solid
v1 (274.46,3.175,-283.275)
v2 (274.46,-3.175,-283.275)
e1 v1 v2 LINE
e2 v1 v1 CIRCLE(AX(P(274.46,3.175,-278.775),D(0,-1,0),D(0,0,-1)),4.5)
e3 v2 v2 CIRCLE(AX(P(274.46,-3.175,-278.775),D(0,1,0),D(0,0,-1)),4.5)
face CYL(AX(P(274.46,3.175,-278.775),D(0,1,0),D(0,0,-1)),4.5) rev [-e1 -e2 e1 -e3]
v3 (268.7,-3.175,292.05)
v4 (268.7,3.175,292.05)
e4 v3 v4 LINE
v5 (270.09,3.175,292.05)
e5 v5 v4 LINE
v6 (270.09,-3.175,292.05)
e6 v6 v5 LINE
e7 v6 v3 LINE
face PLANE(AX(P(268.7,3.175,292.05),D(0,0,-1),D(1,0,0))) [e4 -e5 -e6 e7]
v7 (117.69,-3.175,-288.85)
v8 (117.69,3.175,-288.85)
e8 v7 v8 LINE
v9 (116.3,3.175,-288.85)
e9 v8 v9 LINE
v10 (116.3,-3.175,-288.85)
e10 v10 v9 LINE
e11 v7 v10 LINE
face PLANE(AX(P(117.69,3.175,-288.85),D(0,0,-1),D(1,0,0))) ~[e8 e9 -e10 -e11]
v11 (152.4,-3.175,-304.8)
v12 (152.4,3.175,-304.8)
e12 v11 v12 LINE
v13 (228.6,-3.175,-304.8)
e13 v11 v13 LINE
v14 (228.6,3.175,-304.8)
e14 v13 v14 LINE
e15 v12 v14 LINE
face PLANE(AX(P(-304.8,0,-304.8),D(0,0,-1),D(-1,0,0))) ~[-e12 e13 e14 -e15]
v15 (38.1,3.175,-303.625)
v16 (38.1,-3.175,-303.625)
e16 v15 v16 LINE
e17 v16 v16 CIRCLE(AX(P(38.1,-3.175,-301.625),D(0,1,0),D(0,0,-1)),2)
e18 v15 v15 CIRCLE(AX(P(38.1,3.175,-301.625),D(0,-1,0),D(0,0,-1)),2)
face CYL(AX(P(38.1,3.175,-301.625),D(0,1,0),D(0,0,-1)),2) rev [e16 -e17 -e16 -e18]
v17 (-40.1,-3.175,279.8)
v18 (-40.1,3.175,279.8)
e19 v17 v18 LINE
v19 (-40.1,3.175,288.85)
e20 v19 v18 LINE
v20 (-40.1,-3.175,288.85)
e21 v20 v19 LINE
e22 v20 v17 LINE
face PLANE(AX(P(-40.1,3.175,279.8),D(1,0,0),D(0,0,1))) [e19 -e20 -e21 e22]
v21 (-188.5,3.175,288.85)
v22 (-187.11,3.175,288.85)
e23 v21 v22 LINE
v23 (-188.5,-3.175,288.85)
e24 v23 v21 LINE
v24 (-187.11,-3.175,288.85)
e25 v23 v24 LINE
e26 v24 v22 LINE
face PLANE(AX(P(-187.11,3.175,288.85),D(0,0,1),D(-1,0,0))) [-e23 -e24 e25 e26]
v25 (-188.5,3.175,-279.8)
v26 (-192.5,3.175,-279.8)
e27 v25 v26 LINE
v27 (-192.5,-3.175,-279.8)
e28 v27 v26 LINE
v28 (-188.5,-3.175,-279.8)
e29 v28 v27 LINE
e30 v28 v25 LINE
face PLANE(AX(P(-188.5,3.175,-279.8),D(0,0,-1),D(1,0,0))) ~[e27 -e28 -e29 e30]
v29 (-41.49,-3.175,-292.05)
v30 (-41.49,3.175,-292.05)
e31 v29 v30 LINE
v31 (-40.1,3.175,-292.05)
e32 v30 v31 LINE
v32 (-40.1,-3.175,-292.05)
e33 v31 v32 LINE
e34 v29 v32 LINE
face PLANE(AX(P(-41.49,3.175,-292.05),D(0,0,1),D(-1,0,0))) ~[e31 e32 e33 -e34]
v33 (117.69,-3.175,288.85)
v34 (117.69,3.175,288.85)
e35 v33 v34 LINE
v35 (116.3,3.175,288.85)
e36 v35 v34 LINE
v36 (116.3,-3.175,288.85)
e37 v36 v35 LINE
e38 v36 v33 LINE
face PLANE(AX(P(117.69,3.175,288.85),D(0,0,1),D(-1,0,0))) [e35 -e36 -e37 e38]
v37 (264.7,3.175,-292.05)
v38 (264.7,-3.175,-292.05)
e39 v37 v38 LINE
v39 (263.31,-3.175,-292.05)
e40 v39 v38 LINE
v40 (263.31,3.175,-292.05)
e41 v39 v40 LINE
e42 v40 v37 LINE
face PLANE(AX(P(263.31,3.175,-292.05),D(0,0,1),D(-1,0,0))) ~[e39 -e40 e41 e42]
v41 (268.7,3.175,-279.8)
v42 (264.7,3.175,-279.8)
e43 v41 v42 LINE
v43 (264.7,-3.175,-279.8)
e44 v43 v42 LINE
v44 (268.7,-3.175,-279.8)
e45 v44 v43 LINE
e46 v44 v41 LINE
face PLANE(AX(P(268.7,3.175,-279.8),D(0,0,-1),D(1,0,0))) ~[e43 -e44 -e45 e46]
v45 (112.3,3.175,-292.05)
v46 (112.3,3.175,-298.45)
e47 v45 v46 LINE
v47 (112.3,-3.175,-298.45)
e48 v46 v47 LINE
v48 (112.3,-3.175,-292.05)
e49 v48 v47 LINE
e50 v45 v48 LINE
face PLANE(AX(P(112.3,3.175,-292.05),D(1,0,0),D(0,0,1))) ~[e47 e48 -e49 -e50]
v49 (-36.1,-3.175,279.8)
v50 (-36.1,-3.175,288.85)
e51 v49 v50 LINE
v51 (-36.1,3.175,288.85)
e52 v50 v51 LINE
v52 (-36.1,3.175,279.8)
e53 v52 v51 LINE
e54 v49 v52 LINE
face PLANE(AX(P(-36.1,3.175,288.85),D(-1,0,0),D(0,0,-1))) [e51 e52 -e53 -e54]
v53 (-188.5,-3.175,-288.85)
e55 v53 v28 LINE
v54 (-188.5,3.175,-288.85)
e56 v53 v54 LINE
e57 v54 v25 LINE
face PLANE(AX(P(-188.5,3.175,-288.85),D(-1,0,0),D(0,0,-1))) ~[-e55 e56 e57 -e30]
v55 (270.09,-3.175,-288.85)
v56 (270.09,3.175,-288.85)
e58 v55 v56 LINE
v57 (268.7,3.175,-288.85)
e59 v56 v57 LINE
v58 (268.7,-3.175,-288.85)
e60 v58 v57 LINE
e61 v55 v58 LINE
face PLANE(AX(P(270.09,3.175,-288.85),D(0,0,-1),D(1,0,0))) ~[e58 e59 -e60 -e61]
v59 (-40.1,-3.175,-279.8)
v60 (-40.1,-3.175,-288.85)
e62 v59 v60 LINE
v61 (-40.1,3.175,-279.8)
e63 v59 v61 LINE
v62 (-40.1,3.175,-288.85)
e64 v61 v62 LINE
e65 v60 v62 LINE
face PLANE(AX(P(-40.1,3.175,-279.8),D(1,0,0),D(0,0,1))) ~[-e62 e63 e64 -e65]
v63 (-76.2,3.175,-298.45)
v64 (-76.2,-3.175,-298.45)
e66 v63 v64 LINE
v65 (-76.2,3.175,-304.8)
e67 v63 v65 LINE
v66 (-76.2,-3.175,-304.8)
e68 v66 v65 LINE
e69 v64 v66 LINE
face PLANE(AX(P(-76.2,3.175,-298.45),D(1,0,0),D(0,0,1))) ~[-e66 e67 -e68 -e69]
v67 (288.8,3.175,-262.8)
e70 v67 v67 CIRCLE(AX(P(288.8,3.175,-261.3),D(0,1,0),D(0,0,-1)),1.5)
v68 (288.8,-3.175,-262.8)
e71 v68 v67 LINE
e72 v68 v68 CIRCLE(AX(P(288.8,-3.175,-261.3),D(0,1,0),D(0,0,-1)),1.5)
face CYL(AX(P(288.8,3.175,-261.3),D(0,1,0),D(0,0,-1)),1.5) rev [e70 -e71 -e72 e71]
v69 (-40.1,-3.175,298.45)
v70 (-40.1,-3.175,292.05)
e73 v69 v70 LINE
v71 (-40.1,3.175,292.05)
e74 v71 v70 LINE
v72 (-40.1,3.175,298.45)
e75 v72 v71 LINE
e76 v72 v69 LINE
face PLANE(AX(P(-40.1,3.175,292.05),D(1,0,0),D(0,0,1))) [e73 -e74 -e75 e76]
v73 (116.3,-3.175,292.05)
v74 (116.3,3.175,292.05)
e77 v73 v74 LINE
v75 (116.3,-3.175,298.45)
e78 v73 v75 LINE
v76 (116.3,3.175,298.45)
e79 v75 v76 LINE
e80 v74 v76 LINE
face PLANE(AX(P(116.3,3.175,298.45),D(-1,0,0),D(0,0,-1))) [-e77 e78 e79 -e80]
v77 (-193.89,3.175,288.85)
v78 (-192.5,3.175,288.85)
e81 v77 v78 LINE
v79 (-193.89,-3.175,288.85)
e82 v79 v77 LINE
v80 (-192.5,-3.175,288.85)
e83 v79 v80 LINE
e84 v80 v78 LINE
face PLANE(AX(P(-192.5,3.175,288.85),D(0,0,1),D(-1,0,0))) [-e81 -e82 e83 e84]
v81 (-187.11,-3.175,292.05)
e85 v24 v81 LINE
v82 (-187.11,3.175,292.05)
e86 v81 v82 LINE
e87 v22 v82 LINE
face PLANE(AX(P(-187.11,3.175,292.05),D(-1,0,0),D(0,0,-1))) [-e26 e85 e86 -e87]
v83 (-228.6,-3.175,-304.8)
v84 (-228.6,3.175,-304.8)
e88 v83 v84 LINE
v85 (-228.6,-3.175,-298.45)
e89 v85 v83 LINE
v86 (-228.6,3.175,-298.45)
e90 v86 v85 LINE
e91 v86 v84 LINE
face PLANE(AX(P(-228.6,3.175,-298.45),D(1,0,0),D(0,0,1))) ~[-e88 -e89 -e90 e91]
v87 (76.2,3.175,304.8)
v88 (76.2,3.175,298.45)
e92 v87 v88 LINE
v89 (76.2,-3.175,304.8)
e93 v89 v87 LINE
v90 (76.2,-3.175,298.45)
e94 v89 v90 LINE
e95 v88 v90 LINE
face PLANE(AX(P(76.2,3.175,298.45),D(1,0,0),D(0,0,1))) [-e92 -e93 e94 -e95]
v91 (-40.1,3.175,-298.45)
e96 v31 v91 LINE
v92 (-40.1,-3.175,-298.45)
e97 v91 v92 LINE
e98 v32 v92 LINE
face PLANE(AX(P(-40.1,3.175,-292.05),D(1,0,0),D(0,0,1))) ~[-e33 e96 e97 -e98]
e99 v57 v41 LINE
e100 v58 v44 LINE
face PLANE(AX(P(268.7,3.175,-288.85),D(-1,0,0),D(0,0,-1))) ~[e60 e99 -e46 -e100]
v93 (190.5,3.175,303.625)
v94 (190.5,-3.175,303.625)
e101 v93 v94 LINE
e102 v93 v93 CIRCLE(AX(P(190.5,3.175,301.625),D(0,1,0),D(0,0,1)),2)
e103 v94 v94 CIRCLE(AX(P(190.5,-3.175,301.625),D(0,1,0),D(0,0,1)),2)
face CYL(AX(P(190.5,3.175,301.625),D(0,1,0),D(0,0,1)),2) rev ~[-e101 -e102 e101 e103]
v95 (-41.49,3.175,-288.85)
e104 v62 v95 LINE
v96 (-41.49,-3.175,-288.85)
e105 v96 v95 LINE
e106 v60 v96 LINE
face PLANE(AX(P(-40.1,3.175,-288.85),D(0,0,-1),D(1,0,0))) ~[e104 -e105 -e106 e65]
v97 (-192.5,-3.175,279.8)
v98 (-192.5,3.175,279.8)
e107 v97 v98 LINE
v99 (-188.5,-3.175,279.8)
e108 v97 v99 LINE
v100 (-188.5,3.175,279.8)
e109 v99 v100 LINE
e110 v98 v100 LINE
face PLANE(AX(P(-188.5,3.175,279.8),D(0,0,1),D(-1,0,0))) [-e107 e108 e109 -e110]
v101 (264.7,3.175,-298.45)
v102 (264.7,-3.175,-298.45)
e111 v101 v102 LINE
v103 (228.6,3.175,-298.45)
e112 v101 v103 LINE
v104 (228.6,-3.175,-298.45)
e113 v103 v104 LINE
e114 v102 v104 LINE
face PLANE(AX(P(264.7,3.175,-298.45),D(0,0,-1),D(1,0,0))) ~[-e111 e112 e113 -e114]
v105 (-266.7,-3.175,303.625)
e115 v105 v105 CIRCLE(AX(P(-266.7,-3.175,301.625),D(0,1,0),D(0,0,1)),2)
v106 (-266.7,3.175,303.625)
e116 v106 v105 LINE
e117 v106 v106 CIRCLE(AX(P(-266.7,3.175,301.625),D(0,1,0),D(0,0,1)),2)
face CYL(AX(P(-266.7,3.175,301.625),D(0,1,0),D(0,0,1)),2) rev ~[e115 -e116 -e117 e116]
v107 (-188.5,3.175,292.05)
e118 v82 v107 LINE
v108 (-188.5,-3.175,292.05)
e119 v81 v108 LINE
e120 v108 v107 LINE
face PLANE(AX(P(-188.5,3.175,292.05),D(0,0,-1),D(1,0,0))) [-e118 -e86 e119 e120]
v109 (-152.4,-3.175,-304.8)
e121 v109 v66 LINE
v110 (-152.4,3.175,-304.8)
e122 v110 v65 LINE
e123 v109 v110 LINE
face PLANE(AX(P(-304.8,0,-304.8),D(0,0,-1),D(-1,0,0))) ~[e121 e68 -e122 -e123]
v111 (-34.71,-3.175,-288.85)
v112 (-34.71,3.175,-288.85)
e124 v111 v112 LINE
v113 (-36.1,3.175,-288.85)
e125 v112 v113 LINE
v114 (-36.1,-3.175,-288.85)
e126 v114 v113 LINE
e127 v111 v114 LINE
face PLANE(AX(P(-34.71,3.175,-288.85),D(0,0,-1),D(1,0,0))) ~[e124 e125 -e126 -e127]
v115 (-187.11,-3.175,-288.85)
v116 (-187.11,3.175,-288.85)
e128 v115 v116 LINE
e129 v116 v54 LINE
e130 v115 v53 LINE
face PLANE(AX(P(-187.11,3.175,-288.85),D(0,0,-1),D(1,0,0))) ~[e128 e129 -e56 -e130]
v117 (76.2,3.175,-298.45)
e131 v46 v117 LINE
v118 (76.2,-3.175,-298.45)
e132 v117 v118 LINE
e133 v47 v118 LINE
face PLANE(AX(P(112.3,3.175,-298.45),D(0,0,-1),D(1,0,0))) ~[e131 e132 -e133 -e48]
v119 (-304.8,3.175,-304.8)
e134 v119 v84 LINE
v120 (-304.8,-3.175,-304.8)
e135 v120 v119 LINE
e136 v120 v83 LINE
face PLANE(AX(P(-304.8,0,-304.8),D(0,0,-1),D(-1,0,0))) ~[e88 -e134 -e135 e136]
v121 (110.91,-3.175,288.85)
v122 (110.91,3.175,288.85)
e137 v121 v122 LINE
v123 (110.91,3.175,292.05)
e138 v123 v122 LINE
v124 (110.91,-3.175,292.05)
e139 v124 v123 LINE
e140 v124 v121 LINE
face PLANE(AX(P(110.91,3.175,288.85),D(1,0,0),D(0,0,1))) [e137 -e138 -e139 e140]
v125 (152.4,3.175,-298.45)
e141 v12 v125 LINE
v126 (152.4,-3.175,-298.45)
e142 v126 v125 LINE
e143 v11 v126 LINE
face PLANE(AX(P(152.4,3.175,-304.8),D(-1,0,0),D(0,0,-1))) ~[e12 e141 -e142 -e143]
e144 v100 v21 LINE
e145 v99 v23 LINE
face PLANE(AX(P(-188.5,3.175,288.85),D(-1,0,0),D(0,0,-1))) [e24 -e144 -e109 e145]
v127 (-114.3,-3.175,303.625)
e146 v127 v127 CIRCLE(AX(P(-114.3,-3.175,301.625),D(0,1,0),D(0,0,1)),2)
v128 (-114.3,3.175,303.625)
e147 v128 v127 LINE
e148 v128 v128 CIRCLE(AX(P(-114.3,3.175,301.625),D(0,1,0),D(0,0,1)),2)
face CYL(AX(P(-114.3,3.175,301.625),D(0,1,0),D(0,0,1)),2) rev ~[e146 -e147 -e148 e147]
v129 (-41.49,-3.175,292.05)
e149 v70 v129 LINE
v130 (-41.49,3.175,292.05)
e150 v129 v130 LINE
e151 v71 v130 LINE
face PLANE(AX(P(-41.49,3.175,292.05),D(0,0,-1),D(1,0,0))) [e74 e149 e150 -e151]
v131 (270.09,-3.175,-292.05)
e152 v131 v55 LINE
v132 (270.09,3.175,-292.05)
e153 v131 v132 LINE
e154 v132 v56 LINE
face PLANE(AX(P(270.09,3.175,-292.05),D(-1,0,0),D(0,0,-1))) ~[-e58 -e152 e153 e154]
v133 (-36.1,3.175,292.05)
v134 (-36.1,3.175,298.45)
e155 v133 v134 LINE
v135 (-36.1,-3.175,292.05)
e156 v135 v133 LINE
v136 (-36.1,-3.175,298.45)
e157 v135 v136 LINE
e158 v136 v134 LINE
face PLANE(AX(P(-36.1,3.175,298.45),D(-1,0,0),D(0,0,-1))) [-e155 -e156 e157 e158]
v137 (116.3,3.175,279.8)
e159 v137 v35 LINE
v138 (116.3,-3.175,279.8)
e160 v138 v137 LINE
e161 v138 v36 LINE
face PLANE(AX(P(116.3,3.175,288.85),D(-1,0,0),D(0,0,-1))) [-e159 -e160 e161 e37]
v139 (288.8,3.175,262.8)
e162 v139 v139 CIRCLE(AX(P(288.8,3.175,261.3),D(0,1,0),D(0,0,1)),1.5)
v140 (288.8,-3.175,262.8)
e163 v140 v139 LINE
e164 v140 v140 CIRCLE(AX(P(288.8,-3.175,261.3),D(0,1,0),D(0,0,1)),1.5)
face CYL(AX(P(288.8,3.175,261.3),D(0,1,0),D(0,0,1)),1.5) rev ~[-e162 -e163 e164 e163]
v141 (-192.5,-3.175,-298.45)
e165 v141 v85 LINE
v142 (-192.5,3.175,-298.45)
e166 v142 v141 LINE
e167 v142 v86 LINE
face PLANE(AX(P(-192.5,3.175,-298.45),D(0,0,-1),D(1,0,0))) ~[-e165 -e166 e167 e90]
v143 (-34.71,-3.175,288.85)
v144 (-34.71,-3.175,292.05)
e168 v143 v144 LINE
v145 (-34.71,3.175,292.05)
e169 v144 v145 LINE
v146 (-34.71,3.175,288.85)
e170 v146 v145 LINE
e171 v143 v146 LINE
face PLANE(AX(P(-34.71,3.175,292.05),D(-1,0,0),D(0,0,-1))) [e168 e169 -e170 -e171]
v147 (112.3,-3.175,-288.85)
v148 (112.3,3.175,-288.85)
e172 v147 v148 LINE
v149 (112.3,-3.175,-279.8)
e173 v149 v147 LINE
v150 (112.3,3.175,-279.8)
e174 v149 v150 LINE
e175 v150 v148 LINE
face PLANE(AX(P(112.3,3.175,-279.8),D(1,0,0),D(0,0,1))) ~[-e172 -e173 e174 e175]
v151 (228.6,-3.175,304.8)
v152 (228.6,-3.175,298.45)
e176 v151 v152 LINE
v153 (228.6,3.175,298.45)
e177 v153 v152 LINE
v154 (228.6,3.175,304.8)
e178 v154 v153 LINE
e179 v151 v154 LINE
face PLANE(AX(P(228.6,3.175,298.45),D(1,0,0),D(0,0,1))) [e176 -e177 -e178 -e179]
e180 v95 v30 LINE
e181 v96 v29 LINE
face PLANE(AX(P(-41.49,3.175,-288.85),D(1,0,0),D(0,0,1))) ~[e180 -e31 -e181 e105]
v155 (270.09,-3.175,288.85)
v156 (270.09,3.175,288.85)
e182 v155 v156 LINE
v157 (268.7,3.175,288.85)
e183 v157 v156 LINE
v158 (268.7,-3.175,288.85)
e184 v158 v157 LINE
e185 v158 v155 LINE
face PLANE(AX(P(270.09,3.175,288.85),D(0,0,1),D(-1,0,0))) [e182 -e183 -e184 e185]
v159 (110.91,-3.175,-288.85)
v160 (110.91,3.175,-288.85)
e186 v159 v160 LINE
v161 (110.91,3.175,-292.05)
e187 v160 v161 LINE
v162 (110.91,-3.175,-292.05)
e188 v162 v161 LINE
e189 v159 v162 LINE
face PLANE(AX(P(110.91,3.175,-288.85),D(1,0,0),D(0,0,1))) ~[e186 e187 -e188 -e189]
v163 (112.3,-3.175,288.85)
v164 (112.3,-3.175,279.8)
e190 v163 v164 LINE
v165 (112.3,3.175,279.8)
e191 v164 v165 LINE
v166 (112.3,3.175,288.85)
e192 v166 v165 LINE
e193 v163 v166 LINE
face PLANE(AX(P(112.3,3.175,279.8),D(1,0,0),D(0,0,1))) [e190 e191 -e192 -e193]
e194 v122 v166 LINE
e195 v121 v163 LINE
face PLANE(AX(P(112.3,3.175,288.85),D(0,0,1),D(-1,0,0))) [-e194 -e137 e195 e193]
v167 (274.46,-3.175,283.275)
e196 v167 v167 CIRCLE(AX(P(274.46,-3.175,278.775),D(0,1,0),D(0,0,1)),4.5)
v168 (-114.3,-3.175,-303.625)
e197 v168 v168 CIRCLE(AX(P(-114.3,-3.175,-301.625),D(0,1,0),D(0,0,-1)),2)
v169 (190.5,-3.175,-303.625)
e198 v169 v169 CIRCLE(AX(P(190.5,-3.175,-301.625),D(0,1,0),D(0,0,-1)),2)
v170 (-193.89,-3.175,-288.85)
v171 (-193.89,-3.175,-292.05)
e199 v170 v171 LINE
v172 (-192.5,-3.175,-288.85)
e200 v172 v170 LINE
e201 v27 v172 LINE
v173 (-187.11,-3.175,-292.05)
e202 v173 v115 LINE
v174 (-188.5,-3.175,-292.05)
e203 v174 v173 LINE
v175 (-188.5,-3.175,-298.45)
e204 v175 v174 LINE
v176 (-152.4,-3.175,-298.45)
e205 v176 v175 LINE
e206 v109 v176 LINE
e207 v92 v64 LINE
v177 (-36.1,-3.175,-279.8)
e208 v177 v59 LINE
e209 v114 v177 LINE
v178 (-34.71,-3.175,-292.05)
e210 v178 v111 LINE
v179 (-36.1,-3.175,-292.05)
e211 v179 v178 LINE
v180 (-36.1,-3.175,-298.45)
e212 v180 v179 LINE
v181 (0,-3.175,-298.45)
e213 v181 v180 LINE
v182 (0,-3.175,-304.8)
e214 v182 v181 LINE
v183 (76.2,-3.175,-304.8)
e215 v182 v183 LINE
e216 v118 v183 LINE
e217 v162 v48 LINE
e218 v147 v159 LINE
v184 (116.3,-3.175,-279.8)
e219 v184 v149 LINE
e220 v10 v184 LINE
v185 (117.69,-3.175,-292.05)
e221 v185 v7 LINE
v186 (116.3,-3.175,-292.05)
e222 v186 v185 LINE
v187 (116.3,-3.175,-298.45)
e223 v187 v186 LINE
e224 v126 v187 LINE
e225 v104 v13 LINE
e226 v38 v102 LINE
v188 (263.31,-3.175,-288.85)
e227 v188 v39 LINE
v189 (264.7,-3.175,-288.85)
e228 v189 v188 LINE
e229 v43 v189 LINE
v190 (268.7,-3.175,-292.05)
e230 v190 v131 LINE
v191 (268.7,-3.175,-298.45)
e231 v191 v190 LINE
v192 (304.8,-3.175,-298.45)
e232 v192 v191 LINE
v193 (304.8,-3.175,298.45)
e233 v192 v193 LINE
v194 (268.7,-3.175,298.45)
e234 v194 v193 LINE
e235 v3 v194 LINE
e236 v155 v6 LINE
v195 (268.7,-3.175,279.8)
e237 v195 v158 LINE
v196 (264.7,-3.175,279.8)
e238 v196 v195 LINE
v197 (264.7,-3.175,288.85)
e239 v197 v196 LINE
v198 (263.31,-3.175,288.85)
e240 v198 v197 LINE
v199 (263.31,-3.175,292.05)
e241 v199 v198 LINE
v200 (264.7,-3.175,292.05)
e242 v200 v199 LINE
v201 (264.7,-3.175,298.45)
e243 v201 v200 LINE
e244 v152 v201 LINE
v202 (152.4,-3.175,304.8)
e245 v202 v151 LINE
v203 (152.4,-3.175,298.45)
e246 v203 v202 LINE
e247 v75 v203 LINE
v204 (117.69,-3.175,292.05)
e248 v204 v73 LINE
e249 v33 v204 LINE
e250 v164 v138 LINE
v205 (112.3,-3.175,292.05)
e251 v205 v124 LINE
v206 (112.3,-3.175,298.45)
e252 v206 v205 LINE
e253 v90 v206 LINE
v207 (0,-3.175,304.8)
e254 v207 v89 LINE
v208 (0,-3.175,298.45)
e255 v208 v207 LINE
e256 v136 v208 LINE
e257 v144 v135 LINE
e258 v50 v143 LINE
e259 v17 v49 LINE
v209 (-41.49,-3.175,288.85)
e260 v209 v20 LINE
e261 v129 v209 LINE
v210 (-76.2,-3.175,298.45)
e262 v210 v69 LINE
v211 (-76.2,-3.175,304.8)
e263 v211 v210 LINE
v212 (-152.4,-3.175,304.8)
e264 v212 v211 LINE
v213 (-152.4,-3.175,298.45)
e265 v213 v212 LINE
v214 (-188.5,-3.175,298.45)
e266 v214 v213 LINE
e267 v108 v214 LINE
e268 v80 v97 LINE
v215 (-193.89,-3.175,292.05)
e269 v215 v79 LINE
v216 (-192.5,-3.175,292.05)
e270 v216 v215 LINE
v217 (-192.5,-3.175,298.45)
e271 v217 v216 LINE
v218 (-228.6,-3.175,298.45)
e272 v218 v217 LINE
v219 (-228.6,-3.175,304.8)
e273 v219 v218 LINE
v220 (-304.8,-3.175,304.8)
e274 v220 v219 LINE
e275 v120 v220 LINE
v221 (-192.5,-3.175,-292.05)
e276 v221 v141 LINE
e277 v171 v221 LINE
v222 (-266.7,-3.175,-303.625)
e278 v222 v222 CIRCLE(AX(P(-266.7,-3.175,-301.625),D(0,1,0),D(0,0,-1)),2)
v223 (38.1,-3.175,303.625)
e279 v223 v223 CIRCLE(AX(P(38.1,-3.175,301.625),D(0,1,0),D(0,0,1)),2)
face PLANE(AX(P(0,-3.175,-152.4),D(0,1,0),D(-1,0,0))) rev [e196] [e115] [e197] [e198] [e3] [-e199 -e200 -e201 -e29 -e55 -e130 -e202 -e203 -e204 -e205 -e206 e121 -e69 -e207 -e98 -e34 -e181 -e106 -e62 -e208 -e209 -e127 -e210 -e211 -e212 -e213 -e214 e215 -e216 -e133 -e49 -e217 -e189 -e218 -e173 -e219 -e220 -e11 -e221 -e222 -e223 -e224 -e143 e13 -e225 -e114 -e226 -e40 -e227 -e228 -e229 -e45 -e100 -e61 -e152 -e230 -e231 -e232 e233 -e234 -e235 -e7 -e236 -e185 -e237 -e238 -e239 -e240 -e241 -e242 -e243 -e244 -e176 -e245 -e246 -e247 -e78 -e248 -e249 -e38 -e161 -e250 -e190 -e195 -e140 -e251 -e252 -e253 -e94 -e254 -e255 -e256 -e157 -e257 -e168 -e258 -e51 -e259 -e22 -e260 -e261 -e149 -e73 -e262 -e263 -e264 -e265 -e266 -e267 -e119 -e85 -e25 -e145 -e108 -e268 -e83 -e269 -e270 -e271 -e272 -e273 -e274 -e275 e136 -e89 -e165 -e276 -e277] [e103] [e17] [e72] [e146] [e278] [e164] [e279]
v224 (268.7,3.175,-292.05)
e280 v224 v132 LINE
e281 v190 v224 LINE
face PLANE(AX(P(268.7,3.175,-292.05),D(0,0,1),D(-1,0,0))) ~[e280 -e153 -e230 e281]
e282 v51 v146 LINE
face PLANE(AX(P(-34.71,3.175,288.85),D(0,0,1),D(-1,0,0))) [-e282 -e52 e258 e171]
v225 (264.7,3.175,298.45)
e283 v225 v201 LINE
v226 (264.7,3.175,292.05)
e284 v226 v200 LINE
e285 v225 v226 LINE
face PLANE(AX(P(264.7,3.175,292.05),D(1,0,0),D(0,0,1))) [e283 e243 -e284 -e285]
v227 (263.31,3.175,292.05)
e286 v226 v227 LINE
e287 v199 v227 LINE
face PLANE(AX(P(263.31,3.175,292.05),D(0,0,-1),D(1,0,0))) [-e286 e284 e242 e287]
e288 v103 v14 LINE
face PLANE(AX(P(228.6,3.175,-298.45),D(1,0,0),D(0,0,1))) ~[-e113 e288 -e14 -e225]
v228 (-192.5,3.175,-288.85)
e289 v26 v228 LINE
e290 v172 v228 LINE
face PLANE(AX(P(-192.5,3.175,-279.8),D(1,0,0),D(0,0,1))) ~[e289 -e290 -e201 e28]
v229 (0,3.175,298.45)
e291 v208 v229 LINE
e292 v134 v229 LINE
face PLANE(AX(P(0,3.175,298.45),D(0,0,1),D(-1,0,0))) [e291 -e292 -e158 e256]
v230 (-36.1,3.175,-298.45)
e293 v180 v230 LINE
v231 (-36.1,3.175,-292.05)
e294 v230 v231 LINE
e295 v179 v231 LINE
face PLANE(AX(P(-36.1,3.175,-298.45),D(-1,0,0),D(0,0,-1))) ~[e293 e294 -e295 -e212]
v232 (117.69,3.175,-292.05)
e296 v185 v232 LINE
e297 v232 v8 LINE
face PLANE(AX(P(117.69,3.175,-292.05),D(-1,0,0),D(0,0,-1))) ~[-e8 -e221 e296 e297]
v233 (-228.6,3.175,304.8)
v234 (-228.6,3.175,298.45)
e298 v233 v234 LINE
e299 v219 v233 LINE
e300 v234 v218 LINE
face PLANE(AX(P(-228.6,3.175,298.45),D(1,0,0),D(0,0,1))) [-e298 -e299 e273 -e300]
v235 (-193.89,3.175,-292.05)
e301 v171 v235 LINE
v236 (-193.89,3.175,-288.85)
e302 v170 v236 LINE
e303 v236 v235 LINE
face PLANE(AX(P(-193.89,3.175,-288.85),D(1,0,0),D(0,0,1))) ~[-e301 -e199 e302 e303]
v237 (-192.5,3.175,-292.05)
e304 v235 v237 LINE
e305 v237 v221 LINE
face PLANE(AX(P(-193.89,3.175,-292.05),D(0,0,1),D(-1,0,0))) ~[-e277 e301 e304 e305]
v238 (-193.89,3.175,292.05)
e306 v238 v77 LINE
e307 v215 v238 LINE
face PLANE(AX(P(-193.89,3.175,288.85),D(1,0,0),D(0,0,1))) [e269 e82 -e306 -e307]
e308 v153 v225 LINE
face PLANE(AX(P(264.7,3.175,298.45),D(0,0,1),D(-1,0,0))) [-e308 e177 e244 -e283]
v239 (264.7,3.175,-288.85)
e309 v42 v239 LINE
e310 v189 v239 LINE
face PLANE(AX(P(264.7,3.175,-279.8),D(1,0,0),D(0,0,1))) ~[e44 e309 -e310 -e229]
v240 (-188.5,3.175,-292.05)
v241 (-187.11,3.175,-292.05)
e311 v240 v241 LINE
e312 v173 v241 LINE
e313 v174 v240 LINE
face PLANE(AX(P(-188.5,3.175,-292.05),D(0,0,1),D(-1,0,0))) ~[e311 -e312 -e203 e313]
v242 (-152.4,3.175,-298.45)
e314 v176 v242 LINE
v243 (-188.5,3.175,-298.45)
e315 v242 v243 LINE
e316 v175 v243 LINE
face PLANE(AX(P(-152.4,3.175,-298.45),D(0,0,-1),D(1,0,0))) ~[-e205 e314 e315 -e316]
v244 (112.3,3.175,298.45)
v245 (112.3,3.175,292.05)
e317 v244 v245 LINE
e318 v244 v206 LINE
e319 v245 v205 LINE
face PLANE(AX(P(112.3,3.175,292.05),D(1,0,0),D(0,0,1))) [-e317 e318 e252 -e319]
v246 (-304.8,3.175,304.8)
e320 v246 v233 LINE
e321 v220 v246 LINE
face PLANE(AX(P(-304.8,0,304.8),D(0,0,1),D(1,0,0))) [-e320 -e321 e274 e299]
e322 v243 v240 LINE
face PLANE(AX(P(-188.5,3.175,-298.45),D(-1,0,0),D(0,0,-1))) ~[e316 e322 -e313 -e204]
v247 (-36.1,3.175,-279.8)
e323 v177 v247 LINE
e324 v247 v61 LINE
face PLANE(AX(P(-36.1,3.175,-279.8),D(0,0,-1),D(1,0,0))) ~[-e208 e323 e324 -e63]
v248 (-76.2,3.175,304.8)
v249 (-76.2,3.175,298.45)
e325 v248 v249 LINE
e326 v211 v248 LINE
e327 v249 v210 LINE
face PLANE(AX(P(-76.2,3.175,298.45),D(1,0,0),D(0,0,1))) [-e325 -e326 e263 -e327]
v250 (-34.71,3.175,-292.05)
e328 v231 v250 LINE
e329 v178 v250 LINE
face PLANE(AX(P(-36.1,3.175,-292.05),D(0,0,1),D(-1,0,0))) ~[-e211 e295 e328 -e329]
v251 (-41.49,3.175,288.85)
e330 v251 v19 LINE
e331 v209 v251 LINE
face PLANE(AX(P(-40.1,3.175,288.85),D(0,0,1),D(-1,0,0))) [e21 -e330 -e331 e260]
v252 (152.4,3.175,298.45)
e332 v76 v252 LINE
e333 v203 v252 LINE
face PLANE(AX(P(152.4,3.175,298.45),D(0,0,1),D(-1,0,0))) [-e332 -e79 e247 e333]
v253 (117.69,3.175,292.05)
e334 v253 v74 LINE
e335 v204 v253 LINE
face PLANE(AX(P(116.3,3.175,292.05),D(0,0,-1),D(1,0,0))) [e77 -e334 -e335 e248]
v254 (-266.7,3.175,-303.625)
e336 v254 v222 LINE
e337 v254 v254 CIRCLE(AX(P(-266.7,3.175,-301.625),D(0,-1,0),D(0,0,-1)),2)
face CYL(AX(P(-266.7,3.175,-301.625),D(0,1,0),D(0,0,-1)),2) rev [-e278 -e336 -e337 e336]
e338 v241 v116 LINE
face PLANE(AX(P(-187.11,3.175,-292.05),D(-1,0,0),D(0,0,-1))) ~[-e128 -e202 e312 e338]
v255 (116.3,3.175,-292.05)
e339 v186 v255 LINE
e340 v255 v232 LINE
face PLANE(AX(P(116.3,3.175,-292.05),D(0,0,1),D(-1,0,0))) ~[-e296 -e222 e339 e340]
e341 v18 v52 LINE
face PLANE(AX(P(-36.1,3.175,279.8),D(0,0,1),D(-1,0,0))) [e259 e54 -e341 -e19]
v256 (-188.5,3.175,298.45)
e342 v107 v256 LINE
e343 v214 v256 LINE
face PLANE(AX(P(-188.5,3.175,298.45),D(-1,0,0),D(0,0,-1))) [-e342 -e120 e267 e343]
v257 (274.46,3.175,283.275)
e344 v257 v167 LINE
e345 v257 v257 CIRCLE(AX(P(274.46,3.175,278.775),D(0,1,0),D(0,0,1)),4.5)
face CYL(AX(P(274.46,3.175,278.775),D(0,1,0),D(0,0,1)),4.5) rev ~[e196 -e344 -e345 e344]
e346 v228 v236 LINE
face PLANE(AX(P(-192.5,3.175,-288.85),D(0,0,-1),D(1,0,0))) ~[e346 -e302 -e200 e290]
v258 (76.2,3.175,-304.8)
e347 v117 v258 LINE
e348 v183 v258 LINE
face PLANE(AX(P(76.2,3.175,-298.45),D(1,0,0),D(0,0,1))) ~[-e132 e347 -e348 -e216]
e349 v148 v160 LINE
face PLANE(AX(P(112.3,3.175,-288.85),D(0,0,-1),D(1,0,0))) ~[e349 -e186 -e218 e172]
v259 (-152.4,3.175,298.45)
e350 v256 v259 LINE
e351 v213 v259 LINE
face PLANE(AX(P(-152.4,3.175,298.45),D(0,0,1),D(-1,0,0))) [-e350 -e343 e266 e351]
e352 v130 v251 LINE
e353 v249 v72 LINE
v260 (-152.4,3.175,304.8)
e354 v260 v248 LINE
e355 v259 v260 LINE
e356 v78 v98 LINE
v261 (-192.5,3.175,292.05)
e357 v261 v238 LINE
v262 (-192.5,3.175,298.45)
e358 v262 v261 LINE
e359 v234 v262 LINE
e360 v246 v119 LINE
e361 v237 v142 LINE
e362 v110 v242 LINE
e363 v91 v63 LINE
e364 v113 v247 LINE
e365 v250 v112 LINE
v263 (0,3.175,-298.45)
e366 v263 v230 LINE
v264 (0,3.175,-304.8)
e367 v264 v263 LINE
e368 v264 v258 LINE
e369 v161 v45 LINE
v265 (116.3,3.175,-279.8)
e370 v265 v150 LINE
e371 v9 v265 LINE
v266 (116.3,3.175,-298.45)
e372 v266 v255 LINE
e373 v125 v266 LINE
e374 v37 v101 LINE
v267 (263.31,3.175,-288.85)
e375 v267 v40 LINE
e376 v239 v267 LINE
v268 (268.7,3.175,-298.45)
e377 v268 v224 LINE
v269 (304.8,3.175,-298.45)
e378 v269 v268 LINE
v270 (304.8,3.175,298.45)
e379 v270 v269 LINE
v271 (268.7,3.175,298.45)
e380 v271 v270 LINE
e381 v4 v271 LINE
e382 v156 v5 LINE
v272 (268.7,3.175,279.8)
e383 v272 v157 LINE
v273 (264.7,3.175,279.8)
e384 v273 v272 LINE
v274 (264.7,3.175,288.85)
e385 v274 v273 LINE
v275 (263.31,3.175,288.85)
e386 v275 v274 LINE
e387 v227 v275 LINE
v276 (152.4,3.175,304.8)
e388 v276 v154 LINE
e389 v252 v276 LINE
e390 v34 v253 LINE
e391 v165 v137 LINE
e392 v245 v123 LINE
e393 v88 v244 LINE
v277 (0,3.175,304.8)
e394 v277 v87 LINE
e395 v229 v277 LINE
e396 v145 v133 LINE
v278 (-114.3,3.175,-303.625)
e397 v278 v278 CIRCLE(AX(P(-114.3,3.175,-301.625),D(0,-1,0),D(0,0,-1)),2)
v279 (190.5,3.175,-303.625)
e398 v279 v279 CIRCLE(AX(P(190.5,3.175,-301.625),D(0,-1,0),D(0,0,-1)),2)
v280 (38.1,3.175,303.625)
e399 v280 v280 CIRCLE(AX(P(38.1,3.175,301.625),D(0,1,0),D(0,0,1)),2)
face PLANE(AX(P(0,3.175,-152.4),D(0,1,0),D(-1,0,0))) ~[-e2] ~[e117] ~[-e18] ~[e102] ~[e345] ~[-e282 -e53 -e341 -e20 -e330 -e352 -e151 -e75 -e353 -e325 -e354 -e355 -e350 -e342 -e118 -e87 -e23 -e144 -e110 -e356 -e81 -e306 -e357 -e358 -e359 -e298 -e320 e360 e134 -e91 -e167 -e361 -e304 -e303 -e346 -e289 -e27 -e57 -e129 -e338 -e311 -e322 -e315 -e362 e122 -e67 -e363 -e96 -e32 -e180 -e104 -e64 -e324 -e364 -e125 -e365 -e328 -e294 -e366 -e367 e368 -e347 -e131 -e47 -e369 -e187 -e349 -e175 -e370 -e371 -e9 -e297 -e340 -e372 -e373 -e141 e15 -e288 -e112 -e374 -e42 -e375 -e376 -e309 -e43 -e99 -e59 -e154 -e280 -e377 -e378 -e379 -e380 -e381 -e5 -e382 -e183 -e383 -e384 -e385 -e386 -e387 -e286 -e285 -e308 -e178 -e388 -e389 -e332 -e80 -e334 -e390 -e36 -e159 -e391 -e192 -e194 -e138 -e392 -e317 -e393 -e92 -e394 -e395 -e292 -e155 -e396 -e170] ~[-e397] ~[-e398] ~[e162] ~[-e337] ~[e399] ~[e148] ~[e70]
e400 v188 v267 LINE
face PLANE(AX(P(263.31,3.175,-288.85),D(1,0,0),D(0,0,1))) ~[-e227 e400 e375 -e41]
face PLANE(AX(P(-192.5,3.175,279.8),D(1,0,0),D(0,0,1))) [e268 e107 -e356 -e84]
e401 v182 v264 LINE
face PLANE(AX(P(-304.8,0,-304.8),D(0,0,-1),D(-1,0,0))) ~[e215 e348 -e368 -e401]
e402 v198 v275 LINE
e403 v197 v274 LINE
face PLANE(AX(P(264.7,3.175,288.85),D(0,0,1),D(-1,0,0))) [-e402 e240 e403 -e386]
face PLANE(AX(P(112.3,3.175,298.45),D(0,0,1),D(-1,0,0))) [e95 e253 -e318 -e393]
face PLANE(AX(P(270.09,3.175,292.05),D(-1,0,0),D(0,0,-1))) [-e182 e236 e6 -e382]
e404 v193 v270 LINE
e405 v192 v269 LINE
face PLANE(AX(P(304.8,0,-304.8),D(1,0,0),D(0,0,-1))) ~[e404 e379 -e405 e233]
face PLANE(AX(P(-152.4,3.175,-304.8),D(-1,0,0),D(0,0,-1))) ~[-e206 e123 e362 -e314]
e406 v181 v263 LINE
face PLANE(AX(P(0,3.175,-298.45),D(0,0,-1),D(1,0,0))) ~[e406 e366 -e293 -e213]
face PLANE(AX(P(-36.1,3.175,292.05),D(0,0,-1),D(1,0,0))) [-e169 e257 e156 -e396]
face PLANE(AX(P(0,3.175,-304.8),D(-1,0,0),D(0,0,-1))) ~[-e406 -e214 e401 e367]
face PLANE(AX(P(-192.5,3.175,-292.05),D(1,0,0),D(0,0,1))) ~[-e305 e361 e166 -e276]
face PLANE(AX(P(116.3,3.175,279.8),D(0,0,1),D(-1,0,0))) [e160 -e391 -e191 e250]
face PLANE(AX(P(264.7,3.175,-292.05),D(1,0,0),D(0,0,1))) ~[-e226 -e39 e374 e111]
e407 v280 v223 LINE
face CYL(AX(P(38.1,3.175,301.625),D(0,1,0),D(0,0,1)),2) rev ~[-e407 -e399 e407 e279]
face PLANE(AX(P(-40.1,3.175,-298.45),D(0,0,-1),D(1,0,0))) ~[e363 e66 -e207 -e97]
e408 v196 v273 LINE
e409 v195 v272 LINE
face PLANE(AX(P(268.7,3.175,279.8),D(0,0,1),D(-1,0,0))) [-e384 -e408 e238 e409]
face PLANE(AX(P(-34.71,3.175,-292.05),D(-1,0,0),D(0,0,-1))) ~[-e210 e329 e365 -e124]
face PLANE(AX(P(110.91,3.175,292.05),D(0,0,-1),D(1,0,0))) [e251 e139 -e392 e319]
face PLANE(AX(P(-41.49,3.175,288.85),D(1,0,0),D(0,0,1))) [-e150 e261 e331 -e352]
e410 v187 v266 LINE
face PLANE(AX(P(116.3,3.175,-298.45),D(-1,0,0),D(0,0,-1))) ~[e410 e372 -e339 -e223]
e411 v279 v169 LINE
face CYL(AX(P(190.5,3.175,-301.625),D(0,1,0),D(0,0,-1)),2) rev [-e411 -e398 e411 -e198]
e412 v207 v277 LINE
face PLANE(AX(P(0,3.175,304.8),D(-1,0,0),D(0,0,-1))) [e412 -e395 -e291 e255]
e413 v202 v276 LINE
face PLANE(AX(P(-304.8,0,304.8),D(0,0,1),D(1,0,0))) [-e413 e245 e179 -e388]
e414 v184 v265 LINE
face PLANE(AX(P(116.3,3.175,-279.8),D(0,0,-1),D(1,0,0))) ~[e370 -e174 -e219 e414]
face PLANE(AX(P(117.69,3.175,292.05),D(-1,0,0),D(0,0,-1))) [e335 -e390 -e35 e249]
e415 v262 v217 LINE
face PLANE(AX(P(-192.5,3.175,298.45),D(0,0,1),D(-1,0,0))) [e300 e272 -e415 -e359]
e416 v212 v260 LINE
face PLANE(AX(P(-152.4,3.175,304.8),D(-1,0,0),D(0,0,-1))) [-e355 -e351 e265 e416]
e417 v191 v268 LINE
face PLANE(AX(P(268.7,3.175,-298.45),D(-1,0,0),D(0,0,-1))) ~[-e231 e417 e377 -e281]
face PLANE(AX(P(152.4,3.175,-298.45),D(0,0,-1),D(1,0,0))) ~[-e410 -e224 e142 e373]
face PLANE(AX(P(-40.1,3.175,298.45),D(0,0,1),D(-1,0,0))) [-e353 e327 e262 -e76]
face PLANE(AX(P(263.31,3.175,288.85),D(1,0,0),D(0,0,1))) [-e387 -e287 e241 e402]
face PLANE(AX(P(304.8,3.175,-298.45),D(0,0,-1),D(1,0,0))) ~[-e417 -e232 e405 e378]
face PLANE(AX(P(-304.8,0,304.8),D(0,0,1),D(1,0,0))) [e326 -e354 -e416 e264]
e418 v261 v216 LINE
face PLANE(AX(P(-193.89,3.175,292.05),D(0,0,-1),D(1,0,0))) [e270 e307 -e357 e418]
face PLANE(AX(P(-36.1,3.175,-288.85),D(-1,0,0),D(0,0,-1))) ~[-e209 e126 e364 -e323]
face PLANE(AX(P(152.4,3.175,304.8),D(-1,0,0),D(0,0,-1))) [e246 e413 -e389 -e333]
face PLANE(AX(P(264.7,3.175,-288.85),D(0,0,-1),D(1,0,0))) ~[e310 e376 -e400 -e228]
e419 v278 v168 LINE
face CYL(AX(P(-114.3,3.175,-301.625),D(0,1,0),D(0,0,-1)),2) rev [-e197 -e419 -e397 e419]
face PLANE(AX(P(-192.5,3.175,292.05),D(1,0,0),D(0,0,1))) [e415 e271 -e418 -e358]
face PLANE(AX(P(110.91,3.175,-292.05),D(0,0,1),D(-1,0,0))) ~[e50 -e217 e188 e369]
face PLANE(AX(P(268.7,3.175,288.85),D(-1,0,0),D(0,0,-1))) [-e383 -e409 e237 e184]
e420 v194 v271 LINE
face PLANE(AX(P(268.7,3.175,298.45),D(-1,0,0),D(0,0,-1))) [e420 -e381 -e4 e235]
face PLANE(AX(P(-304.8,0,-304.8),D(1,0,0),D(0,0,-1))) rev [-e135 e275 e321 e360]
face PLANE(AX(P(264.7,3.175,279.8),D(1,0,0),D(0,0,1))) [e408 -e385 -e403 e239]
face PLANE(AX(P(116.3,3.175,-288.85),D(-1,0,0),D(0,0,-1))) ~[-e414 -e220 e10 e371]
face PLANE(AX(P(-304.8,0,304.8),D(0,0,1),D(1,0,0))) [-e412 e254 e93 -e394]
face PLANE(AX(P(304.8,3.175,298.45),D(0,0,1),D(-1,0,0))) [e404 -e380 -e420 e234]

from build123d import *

# Parameters (mm, degrees)
SKETCH1_W           = 609.6
SKETCH1_H           = 304.8
BOSS_EXTRUDE1_DEPTH = 3.175
SKETCH2_R           = 2
SKETCH2_R_2         = 4.5
SKETCH2_R_3         = 1.5
CUT_EXTRUDE1_DEPTH  = 432.099063441


with BuildPart() as part:
    # Sketch1 → Boss-Extrude1 (new, symmetric)
    with BuildSketch(Plane(origin=(0, 0, 0), x_dir=(1, 0, 0), z_dir=(0, 1, 0))):
        with Locations((0, -152.4)):
            Rectangle(SKETCH1_W, SKETCH1_H)
    boss_extrude1 = extrude(amount=BOSS_EXTRUDE1_DEPTH, both=True)

    # Sketch2 → Cut-Extrude1 (cut, symmetric)
    with BuildSketch(Plane(origin=(0, 3.175, 0), x_dir=(1, 0, 0), z_dir=(0, 1, 0))):
        with Locations(Location((-266.7, -301.625, 0), (0, 0, 270))):
            Circle(SKETCH2_R)
        Polygon((-228.6, -298.45), (-228.6, -304.8), (-152.4, -304.8), (-152.4, -298.45), (-188.5, -298.45), (-192.5, -298.45), align=None)
        Polygon((-192.5, -292.05), (-192.5, -298.45), (-188.5, -298.45), (-188.5, -292.05), (-187.11, -292.05), (-187.11, -288.85), (-188.5, -288.85), (-188.5, -279.8), (-192.5, -279.8), (-192.5, -288.85), (-193.89, -288.85), (-193.89, -292.05), align=None)
        with Locations(Location((-114.3, -301.625, 0), (0, 0, 270))):
            Circle(SKETCH2_R)
        Polygon((-76.2, -298.45), (-76.2, -304.8), (0, -304.8), (0, -298.45), (-36.1, -298.45), (-40.1, -298.45), align=None)
        Polygon((-40.1, -292.05), (-40.1, -298.45), (-36.1, -298.45), (-36.1, -292.05), (-34.71, -292.05), (-34.71, -288.85), (-36.1, -288.85), (-36.1, -279.8), (-40.1, -279.8), (-40.1, -288.85), (-41.49, -288.85), (-41.49, -292.05), align=None)
        with Locations(Location((38.1, -301.625, 0), (0, 0, 270))):
            Circle(SKETCH2_R)
        Polygon((76.2, -298.45), (76.2, -304.8), (152.4, -304.8), (152.4, -298.45), (116.3, -298.45), (112.3, -298.45), align=None)
        Polygon((112.3, -292.05), (112.3, -298.45), (116.3, -298.45), (116.3, -292.05), (117.69, -292.05), (117.69, -288.85), (116.3, -288.85), (116.3, -279.8), (112.3, -279.8), (112.3, -288.85), (110.91, -288.85), (110.91, -292.05), align=None)
        with Locations(Location((190.5, -301.625, 0), (0, 0, 270))):
            Circle(SKETCH2_R)
        Polygon((228.6, -298.45), (228.6, -304.8), (304.8, -304.8), (304.8, -298.45), (268.7, -298.45), (264.7, -298.45), align=None)
        Polygon((264.7, -292.05), (264.7, -298.45), (268.7, -298.45), (268.7, -292.05), (270.09, -292.05), (270.09, -288.85), (268.7, -288.85), (268.7, -279.8), (264.7, -279.8), (264.7, -288.85), (263.31, -288.85), (263.31, -292.05), align=None)
        with Locations(Location((274.46, -278.775, 0), (0, 0, 270))):
            Circle(SKETCH2_R_2)
        with Locations(Location((288.8, -261.3, 0), (0, 0, 270))):
            Circle(SKETCH2_R_3)
    cut_extrude1 = extrude(amount=CUT_EXTRUDE1_DEPTH, both=True, mode=Mode.SUBTRACT)

    # Mirror1: Boss-Extrude1, Cut-Extrude1 across plane
    add(boss_extrude1.mirror(Plane(origin=(0, 3.175, 0), x_dir=(1, 0, 0), z_dir=(0, 0, -1))))
    add(cut_extrude1.mirror(Plane(origin=(0, 3.175, 0), x_dir=(1, 0, 0), z_dir=(0, 0, -1))), mode=Mode.SUBTRACT)


solid = part.part
